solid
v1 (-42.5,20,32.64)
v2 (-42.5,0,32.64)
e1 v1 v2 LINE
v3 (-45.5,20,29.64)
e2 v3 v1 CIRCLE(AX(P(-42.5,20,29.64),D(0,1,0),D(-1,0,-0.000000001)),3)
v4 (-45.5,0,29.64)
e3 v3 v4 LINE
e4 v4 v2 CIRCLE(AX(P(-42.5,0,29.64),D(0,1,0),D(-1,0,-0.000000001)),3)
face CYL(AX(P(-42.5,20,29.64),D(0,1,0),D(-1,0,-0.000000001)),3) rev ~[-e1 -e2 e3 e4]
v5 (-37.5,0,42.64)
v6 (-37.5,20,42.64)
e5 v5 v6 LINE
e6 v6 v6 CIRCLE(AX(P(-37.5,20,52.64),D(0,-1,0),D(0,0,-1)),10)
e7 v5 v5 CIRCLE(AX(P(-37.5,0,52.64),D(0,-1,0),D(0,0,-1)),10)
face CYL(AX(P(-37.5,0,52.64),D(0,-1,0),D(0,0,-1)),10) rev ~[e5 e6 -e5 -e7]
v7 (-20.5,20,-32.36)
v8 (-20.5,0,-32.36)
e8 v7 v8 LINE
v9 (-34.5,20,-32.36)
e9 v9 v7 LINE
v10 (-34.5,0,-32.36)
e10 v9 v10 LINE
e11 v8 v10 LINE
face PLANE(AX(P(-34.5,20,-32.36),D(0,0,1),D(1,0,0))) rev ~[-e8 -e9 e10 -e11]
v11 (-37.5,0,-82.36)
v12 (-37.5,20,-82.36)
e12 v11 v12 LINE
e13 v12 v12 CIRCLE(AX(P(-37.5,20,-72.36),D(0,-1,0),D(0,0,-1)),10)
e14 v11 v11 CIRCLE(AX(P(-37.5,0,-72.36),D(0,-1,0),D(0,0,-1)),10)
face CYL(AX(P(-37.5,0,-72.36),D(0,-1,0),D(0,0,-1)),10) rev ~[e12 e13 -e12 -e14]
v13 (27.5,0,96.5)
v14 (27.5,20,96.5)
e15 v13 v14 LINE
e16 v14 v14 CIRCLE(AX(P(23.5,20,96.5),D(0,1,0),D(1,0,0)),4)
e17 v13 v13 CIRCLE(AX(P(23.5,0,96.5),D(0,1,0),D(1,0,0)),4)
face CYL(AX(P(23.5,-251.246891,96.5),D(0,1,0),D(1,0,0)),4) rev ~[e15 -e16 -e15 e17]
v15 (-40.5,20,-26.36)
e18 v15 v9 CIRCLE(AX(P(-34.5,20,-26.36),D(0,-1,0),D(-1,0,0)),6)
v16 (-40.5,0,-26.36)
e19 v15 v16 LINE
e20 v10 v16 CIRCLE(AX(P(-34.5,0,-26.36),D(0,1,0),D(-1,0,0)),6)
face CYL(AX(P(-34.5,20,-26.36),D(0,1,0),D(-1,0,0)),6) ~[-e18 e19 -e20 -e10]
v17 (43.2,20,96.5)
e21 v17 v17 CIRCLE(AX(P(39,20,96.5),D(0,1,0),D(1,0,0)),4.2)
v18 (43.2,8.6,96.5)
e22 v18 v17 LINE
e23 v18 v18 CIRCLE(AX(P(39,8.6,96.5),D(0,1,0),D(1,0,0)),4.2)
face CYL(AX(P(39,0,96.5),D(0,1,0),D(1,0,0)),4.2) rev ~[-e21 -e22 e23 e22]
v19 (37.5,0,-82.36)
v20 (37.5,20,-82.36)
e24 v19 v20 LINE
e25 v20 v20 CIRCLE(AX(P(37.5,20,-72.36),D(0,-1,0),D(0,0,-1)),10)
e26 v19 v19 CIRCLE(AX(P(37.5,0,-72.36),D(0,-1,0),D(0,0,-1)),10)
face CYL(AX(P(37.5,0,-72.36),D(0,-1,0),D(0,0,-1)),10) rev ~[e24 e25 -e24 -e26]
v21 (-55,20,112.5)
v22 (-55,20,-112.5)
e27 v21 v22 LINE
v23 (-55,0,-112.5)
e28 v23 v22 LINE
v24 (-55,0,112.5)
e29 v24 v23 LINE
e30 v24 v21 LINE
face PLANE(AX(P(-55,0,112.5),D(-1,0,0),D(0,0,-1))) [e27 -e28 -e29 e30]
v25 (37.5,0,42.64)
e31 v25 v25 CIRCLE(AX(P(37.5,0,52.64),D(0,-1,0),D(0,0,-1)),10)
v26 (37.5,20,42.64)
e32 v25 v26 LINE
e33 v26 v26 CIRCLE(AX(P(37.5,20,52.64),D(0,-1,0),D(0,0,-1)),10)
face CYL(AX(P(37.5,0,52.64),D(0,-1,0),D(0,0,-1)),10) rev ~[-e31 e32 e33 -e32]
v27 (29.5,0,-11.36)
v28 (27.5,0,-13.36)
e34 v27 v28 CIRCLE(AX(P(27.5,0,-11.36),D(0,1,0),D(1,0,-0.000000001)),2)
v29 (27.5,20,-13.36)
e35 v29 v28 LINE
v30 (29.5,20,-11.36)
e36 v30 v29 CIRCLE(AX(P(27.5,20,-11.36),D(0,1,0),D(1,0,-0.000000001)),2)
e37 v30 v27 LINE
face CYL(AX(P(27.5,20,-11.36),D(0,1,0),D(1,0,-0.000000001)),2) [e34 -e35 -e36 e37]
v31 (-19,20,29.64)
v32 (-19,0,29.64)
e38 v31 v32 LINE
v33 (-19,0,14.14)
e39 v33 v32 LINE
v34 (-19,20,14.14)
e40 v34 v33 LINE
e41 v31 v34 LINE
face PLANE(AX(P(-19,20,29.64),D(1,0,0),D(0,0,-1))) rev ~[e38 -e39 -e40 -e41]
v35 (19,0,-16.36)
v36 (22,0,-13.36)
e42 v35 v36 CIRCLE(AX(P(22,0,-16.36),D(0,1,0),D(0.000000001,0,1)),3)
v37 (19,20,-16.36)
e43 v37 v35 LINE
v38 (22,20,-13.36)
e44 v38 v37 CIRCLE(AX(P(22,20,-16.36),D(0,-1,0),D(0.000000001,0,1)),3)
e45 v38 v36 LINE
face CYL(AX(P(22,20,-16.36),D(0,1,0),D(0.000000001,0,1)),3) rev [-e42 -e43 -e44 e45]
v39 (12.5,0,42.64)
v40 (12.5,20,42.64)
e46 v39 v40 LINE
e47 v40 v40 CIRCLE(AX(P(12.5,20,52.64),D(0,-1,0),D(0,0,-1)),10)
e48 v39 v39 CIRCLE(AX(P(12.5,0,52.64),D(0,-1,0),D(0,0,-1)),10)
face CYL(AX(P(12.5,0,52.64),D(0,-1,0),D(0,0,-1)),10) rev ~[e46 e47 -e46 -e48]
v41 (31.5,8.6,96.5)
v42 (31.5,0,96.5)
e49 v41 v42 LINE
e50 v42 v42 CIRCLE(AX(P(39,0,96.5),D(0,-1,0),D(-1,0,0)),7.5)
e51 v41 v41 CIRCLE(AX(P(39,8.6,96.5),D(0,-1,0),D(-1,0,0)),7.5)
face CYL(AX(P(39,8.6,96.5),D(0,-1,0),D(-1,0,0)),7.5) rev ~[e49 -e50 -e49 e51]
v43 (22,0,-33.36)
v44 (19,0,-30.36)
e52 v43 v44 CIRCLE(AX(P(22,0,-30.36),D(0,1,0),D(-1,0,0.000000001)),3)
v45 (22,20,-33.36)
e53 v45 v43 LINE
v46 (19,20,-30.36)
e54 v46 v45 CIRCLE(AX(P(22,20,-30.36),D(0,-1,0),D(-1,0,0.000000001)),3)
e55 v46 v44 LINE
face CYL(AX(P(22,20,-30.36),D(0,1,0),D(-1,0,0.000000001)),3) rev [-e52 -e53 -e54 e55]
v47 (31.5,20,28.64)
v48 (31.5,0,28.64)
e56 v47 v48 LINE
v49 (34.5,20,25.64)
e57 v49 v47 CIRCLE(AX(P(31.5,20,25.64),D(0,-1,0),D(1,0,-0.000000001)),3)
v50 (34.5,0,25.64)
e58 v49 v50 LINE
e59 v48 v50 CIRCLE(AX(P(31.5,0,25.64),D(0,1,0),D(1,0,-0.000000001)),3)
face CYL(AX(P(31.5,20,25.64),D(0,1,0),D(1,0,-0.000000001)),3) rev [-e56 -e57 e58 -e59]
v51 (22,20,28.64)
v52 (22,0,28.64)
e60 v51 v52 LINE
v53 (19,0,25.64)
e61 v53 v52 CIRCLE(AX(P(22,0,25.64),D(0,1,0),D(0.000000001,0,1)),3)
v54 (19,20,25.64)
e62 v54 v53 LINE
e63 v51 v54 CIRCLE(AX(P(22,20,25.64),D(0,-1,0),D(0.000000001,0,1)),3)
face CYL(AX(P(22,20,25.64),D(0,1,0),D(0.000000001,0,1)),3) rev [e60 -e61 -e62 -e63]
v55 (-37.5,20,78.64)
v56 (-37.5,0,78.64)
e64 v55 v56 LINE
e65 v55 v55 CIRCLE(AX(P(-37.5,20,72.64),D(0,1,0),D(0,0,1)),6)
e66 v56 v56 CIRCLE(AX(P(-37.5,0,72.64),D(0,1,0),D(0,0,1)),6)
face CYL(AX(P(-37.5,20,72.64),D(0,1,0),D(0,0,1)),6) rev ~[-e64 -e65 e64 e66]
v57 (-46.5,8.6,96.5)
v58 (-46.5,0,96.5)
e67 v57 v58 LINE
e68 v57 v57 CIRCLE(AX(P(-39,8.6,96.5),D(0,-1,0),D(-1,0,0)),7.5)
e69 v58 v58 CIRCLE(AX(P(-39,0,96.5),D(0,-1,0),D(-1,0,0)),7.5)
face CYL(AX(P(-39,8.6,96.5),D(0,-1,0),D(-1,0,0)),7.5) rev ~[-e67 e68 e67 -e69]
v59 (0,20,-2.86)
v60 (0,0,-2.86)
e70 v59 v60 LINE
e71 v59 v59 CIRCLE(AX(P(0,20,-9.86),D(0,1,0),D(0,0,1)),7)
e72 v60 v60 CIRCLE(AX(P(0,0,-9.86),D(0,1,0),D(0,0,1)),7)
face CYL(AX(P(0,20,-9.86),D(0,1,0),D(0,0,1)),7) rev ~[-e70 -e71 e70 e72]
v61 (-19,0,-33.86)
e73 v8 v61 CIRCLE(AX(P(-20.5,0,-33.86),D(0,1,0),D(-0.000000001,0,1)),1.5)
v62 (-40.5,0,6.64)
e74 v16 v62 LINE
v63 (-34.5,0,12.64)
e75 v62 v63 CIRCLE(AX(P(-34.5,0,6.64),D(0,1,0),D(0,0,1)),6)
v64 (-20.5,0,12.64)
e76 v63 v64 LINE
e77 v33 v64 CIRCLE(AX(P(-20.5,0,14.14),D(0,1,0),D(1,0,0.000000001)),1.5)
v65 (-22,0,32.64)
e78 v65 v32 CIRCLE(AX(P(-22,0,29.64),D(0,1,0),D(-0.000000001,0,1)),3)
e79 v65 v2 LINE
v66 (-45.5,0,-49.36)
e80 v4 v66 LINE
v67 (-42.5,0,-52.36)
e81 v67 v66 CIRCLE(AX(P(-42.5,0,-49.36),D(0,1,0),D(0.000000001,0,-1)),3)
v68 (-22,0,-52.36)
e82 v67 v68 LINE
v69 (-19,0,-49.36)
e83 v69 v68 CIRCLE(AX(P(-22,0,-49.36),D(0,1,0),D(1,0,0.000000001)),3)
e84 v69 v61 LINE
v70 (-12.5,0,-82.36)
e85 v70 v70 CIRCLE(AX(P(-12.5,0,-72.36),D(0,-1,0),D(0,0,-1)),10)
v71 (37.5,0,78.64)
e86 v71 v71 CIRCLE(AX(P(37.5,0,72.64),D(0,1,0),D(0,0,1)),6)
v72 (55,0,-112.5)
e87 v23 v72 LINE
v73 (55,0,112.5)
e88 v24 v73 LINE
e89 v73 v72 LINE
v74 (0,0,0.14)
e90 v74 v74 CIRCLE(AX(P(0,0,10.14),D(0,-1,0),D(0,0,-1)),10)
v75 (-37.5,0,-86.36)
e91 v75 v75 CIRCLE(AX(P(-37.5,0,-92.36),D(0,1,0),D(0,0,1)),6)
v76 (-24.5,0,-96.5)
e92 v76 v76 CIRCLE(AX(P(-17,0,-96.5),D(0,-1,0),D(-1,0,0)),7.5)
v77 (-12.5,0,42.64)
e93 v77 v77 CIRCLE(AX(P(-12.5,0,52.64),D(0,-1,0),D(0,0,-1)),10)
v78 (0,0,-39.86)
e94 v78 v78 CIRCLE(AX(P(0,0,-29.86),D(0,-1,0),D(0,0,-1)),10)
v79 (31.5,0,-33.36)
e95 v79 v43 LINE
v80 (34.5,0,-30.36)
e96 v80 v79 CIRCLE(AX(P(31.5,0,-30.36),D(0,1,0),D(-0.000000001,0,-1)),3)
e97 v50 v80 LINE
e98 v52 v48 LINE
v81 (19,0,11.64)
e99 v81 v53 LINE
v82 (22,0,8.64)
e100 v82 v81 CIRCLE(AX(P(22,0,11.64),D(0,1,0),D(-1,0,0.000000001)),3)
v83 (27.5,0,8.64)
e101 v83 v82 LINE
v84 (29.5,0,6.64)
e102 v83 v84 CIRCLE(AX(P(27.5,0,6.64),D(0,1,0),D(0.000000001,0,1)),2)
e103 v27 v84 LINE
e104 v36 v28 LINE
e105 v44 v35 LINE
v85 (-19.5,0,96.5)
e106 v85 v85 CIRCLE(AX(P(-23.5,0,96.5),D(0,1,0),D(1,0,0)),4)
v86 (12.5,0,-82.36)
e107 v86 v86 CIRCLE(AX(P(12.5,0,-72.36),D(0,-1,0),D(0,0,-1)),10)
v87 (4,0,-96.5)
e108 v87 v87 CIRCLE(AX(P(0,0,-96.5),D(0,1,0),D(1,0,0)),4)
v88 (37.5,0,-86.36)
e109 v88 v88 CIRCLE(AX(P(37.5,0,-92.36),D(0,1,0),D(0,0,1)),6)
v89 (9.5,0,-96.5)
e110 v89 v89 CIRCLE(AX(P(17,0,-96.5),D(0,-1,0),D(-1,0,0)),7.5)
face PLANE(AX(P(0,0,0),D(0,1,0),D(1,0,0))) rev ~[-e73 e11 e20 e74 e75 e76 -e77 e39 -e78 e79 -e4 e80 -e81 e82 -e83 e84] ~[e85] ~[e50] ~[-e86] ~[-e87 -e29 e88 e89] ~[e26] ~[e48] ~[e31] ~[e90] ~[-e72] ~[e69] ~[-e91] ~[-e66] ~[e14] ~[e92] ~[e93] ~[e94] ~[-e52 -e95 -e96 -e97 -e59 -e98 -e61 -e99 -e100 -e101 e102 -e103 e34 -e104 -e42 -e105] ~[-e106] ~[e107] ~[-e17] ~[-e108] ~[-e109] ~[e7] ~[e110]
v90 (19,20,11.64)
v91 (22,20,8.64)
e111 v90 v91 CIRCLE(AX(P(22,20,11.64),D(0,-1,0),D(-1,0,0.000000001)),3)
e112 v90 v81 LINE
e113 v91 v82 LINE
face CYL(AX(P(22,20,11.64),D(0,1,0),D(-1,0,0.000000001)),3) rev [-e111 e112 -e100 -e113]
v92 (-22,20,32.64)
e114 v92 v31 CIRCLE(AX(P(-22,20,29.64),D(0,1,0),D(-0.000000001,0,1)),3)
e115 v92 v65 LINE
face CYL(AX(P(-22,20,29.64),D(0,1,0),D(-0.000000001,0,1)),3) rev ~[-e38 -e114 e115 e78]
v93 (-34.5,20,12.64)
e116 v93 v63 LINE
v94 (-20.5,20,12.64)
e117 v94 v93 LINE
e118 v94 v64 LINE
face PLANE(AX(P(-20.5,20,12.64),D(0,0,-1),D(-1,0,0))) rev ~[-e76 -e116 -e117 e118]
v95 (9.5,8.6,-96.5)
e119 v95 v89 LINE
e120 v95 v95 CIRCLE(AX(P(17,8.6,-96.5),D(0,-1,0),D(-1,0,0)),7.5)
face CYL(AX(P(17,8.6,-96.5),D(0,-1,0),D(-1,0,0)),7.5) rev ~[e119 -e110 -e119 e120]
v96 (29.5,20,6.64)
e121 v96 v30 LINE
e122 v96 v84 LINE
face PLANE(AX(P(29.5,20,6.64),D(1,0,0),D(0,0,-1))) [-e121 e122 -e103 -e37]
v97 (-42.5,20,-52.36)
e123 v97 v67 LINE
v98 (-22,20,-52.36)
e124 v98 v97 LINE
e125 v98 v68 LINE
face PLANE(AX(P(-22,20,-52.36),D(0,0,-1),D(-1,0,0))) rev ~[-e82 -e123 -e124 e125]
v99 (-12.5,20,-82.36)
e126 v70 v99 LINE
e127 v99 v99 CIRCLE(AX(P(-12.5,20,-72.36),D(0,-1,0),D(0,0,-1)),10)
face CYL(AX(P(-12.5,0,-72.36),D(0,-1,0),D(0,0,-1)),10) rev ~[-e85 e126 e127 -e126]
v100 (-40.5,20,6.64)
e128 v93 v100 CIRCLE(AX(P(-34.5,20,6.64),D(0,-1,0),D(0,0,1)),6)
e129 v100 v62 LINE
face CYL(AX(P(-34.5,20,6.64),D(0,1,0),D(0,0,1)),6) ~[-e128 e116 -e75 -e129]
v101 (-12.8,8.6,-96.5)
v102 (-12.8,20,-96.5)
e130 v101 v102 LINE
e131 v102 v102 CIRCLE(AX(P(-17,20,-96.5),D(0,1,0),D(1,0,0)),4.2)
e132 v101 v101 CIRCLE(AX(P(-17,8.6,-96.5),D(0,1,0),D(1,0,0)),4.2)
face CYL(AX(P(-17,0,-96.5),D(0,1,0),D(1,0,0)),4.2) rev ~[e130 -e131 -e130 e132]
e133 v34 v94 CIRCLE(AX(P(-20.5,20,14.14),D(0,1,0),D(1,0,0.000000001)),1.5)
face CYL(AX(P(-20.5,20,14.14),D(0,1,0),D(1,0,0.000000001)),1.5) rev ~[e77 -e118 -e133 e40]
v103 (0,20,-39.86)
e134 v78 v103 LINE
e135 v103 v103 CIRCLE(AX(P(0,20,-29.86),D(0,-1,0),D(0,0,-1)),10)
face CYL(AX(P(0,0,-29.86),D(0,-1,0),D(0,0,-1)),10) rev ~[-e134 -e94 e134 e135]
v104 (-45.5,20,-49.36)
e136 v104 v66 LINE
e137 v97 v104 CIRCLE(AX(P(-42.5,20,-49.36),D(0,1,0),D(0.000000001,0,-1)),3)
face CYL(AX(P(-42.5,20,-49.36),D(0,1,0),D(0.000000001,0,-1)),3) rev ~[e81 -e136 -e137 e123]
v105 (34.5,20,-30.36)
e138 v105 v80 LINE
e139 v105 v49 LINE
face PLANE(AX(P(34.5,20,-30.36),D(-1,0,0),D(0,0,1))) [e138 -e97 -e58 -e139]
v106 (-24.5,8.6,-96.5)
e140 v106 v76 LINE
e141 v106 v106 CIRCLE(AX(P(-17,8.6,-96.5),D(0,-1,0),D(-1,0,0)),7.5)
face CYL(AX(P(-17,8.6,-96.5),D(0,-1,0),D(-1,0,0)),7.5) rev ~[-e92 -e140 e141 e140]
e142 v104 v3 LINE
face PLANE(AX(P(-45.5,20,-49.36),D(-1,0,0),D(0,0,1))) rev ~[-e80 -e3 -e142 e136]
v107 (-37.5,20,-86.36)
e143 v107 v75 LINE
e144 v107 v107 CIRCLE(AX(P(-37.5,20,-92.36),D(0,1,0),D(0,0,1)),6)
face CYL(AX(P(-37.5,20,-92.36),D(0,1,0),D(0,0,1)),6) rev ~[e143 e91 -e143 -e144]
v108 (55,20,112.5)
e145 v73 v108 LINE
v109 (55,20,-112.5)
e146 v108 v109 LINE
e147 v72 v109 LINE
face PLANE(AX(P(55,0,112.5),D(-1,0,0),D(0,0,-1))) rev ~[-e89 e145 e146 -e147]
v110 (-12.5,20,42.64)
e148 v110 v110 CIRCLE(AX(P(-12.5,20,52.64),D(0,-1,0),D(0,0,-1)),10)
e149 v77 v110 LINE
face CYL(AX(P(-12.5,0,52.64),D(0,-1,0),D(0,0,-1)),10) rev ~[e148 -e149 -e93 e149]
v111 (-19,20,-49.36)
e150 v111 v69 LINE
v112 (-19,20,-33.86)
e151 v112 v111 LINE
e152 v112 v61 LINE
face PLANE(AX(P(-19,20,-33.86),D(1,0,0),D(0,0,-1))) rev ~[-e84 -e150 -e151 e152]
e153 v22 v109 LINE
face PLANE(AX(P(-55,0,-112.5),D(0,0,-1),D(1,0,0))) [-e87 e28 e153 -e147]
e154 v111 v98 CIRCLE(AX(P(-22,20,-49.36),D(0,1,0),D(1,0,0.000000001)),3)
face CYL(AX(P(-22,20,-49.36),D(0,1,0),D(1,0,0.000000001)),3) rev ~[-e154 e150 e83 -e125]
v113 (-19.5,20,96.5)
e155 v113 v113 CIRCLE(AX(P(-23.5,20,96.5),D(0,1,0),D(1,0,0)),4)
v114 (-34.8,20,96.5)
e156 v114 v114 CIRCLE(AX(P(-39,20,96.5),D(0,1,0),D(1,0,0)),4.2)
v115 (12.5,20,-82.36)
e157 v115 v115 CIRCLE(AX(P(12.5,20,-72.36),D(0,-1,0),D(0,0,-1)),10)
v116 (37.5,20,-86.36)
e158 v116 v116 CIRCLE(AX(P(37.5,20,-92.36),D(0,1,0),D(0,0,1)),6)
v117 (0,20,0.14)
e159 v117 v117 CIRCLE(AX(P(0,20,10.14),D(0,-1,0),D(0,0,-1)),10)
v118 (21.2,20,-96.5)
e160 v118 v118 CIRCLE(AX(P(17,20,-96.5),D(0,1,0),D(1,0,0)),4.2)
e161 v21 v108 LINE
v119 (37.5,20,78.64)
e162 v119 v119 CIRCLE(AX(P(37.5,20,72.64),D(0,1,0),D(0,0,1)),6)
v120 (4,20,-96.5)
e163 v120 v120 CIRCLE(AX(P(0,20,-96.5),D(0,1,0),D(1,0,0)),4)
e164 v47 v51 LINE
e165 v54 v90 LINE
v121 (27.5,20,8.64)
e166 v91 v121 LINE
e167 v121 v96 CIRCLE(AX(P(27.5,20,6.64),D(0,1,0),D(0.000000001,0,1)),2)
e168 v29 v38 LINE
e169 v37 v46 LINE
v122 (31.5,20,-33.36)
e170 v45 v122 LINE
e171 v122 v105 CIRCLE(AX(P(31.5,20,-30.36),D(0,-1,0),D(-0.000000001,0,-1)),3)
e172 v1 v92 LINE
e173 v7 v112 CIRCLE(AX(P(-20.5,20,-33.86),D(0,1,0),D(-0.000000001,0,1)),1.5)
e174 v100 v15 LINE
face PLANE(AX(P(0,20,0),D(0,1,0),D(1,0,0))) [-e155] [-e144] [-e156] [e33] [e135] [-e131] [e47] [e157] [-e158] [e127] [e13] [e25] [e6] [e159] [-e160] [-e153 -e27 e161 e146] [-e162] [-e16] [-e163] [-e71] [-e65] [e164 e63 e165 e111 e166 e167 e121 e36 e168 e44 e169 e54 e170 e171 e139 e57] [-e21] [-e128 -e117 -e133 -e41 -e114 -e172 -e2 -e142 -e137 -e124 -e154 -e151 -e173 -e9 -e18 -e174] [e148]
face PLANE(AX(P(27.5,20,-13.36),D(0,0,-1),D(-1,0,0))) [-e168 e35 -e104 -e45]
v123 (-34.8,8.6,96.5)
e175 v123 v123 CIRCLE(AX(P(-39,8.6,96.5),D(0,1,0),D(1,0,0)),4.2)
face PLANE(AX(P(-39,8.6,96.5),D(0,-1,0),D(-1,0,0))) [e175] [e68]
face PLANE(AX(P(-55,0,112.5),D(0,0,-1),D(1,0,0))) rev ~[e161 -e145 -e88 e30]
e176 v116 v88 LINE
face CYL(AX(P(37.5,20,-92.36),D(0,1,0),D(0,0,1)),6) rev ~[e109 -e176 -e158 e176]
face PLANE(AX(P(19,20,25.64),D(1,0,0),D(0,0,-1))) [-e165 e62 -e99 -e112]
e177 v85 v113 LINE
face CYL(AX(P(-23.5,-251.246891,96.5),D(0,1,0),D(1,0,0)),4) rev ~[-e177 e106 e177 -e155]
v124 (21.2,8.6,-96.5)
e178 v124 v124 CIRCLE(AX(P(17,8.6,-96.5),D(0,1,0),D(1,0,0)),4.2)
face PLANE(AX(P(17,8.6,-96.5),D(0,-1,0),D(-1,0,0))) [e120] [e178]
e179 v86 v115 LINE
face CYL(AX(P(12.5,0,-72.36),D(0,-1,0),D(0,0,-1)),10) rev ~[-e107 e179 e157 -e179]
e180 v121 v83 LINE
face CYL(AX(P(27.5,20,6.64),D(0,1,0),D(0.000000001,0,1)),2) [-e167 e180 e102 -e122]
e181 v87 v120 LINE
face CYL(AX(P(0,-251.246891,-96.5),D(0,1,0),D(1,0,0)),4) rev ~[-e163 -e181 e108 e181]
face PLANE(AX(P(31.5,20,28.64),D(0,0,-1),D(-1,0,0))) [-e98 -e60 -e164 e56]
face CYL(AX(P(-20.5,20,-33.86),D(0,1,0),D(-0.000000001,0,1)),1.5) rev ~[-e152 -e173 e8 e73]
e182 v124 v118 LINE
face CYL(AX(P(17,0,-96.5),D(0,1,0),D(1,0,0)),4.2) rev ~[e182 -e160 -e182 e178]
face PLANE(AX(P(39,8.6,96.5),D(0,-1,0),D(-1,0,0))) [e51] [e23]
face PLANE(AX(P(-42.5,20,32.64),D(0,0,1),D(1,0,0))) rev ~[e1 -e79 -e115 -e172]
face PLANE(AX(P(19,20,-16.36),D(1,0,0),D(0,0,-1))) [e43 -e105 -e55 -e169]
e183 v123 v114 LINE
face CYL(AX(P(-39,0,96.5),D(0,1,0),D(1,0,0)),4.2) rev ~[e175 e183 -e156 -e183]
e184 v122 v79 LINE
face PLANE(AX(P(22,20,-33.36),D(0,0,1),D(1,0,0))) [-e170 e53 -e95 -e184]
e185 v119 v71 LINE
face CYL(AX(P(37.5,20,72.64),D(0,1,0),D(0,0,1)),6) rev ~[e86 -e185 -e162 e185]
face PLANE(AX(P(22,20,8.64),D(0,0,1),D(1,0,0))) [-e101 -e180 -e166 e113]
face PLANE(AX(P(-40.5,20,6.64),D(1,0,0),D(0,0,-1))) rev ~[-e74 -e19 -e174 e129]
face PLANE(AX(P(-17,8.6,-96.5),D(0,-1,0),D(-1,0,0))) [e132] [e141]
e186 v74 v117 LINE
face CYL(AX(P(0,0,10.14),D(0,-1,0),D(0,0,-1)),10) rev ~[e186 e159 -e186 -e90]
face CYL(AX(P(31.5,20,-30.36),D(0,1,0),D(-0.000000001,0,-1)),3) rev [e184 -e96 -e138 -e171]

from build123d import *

# Parameters (mm, degrees)
SKETCH1_W                                           = 110
SKETCH1_H                                           = 225
BOSS_EXTRUDE1_DEPTH                                 = 20
CUT_EXTRUDE1_REACH                                  = 128.812
CUT_EXTRUDE2_REACH                                  = 128.812
SKETCH4_R                                           = 10
CUT_EXTRUDE3_DEPTH                                  = 127.81186853
CUT_EXTRUDE4_REACH                                  = 128.812
SKETCH5_R                                           = 6
CUT_EXTRUDE5_REACH                                  = 128.812
SKETCH6_R                                           = 7
CBORE_FOR_M8_HEX_SOCKET_HEAD_CAP_SCREW1_D           = 8.4
CBORE_FOR_M8_HEX_SOCKET_HEAD_CAP_SCREW1_CBORE_D     = 15
CBORE_FOR_M8_HEX_SOCKET_HEAD_CAP_SCREW1_CBORE_DEPTH = 8.6
F_8_0MM_DOWEL_HOLE1_D                               = 8


with BuildPart() as part:
    # Sketch1 → Boss-Extrude1 (new body)
    with BuildSketch(Plane(origin=(0, 0, 0), x_dir=(1, 0, 0), z_dir=(0, 1, 0))):
        Rectangle(SKETCH1_W, SKETCH1_H)
    extrude(amount=BOSS_EXTRUDE1_DEPTH)

    # Sketch2 → Cut-Extrude1 (cut, up to next)
    with BuildSketch(Plane(origin=(0, 20, 0), x_dir=(1, 0, 0), z_dir=(0, 1, 0)), mode=Mode.PRIVATE) as cut_extrude1_sk1:
        with BuildLine():
            Line((-42.5, -32.64), (-22, -32.64))
            ThreePointArc((-22, -32.64), (-19.878679656, -31.761320344), (-19, -29.64))
            Line((-19, -29.64), (-19, -14.14))
            ThreePointArc((-19, -14.14), (-19.439339828, -13.079339828), (-20.5, -12.64))
            Line((-20.5, -12.64), (-34.5, -12.64))
            ThreePointArc((-34.5, -12.64), (-38.742640687, -10.882640687), (-40.5, -6.64))
            Line((-40.5, -6.64), (-40.5, 26.36))
            ThreePointArc((-40.5, 26.36), (-38.742640687, 30.602640687), (-34.5, 32.36))
            Line((-34.5, 32.36), (-20.5, 32.36))
            ThreePointArc((-20.5, 32.36), (-19.439339828, 32.799339828), (-19, 33.86))
            Line((-19, 33.86), (-19, 49.36))
            ThreePointArc((-19, 49.36), (-19.878679656, 51.481320344), (-22, 52.36))
            Line((-22, 52.36), (-42.5, 52.36))
            ThreePointArc((-42.5, 52.36), (-44.621320344, 51.481320344), (-45.5, 49.36))
            Line((-45.5, 49.36), (-45.5, -29.64))
            ThreePointArc((-45.5, -29.64), (-44.621320344, -31.761320344), (-42.5, -32.64))
        make_face()
    cut_extrude1_tool1 = extrude(cut_extrude1_sk1.sketch, amount=-CUT_EXTRUDE1_REACH, mode=Mode.PRIVATE) & part.part
    add(cut_extrude1_tool1.solids().sort_by_distance((-43.991747, 20, -50.851747))[0], mode=Mode.SUBTRACT)

    # Sketch3 → Cut-Extrude2 (cut, up to next)
    with BuildSketch(Plane(origin=(0, 20, 0), x_dir=(1, 0, 0), z_dir=(0, 1, 0)), mode=Mode.PRIVATE) as cut_extrude2_sk1:
        with BuildLine():
            Line((22, -8.64), (27.5, -8.64))
            ThreePointArc((27.5, -8.64), (28.914213562, -8.054213562), (29.5, -6.64))
            Line((29.5, -6.64), (29.5, 11.36))
            ThreePointArc((29.5, 11.36), (28.914213562, 12.774213562), (27.5, 13.36))
            Line((27.5, 13.36), (22, 13.36))
            ThreePointArc((22, 13.36), (19.878679656, 14.238679656), (19, 16.36))
            Line((19, 16.36), (19, 30.36))
            ThreePointArc((19, 30.36), (19.878679656, 32.481320344), (22, 33.36))
            Line((22, 33.36), (31.5, 33.36))
            ThreePointArc((31.5, 33.36), (33.621320344, 32.481320344), (34.5, 30.36))
            Line((34.5, 30.36), (34.5, -25.64))
            ThreePointArc((34.5, -25.64), (33.621320344, -27.761320344), (31.5, -28.64))
            Line((31.5, -28.64), (22, -28.64))
            ThreePointArc((22, -28.64), (19.878679656, -27.761320344), (19, -25.64))
            Line((19, -25.64), (19, -11.64))
            ThreePointArc((19, -11.64), (19.878679656, -9.518679656), (22, -8.64))
        make_face()
    cut_extrude2_tool1 = extrude(cut_extrude2_sk1.sketch, amount=-CUT_EXTRUDE2_REACH, mode=Mode.PRIVATE) & part.part
    add(cut_extrude2_tool1.solids().sort_by_distance((24.75, 20, 9.279081))[0], mode=Mode.SUBTRACT)

    # Sketch4 → Cut-Extrude3 (cut, through all)
    with BuildSketch(Plane.XZ):
        with Locations(Location((37.5, 52.64, 0), (0, 0, 270))):
            Circle(SKETCH4_R)
        with Locations(Location((12.5, 52.64, 0), (0, 0, 270))):
            Circle(SKETCH4_R)
        with Locations(Location((-12.5, 52.64, 0), (0, 0, 270))):
            Circle(SKETCH4_R)
        with Locations(Location((-37.5, 52.64, 0), (0, 0, 270))):
            Circle(SKETCH4_R)
        with Locations(Location((0, 10.14, 0), (0, 0, 270))):
            Circle(SKETCH4_R)
        with Locations(Location((0, -29.86, 0), (0, 0, 270))):
            Circle(SKETCH4_R)
        with Locations(Location((37.5, -72.36, 0), (0, 0, 270))):
            Circle(SKETCH4_R)
        with Locations(Location((12.5, -72.36, 0), (0, 0, 270))):
            Circle(SKETCH4_R)
        with Locations(Location((-12.5, -72.36, 0), (0, 0, 270))):
            Circle(SKETCH4_R)
        with Locations(Location((-37.5, -72.36, 0), (0, 0, 270))):
            Circle(SKETCH4_R)
    extrude(amount=-CUT_EXTRUDE3_DEPTH, mode=Mode.SUBTRACT)

    # Sketch5 → Cut-Extrude4 (cut, up to next)
    with BuildSketch(Plane(origin=(0, 20, 0), x_dir=(1, 0, 0), z_dir=(0, 1, 0)), mode=Mode.PRIVATE) as cut_extrude4_sk1:
        with Locations(Location((-37.5, 92.36, 0), (0, 0, 270))):
            Circle(SKETCH5_R)
    cut_extrude4_tool1 = extrude(cut_extrude4_sk1.sketch, amount=-CUT_EXTRUDE4_REACH, mode=Mode.PRIVATE) & part.part
    # Sketch5 → Cut-Extrude4 (cut, up to next)
    with BuildSketch(Plane(origin=(0, 20, 0), x_dir=(1, 0, 0), z_dir=(0, 1, 0)), mode=Mode.PRIVATE) as cut_extrude4_sk2:
        with Locations(Location((37.5, 92.36, 0), (0, 0, 270))):
            Circle(SKETCH5_R)
    cut_extrude4_tool2 = extrude(cut_extrude4_sk2.sketch, amount=-CUT_EXTRUDE4_REACH, mode=Mode.PRIVATE) & part.part
    # Sketch5 → Cut-Extrude4 (cut, up to next)
    with BuildSketch(Plane(origin=(0, 20, 0), x_dir=(1, 0, 0), z_dir=(0, 1, 0)), mode=Mode.PRIVATE) as cut_extrude4_sk3:
        with Locations(Location((-37.5, -72.64, 0), (0, 0, 270))):
            Circle(SKETCH5_R)
    cut_extrude4_tool3 = extrude(cut_extrude4_sk3.sketch, amount=-CUT_EXTRUDE4_REACH, mode=Mode.PRIVATE) & part.part
    # Sketch5 → Cut-Extrude4 (cut, up to next)
    with BuildSketch(Plane(origin=(0, 20, 0), x_dir=(1, 0, 0), z_dir=(0, 1, 0)), mode=Mode.PRIVATE) as cut_extrude4_sk4:
        with Locations(Location((37.5, -72.64, 0), (0, 0, 270))):
            Circle(SKETCH5_R)
    cut_extrude4_tool4 = extrude(cut_extrude4_sk4.sketch, amount=-CUT_EXTRUDE4_REACH, mode=Mode.PRIVATE) & part.part
    add(cut_extrude4_tool1.solids().sort_by_distance((-37.5, 20, -92.36))[0], mode=Mode.SUBTRACT)
    add(cut_extrude4_tool2.solids().sort_by_distance((37.5, 20, -92.36))[0], mode=Mode.SUBTRACT)
    add(cut_extrude4_tool3.solids().sort_by_distance((-37.5, 20, 72.64))[0], mode=Mode.SUBTRACT)
    add(cut_extrude4_tool4.solids().sort_by_distance((37.5, 20, 72.64))[0], mode=Mode.SUBTRACT)

    # Sketch6 → Cut-Extrude5 (cut, up to next)
    with BuildSketch(Plane(origin=(0, 20, 0), x_dir=(1, 0, 0), z_dir=(0, 1, 0)), mode=Mode.PRIVATE) as cut_extrude5_sk1:
        with Locations(Location((0, 9.86, 0), (0, 0, 270))):
            Circle(SKETCH6_R)
    cut_extrude5_tool1 = extrude(cut_extrude5_sk1.sketch, amount=-CUT_EXTRUDE5_REACH, mode=Mode.PRIVATE) & part.part
    add(cut_extrude5_tool1.solids().sort_by_distance((0, 20, -9.86))[0], mode=Mode.SUBTRACT)

    # CBORE for M8 Hex Socket Head Cap Screw1 (through all)
    with Locations(Plane(origin=(0, 0, 0), x_dir=(-1, 0, 0), z_dir=(0, -1, 0))):
        with Locations((-17, 96.5), (17, 96.5), (-39, -96.5), (39, -96.5)):
            CounterBoreHole(CBORE_FOR_M8_HEX_SOCKET_HEAD_CAP_SCREW1_D / 2, CBORE_FOR_M8_HEX_SOCKET_HEAD_CAP_SCREW1_CBORE_D / 2, CBORE_FOR_M8_HEX_SOCKET_HEAD_CAP_SCREW1_CBORE_DEPTH)

    # Ø8.0mm Dowel Hole1 (through all)
    with Locations(Plane(origin=(0, 0, 0), x_dir=(-1, 0, 0), z_dir=(0, -1, 0))):
        with Locations((0, 96.5), (-23.5, -96.5), (23.5, -96.5)):
            Hole(F_8_0MM_DOWEL_HOLE1_D / 2)


solid = part.part
